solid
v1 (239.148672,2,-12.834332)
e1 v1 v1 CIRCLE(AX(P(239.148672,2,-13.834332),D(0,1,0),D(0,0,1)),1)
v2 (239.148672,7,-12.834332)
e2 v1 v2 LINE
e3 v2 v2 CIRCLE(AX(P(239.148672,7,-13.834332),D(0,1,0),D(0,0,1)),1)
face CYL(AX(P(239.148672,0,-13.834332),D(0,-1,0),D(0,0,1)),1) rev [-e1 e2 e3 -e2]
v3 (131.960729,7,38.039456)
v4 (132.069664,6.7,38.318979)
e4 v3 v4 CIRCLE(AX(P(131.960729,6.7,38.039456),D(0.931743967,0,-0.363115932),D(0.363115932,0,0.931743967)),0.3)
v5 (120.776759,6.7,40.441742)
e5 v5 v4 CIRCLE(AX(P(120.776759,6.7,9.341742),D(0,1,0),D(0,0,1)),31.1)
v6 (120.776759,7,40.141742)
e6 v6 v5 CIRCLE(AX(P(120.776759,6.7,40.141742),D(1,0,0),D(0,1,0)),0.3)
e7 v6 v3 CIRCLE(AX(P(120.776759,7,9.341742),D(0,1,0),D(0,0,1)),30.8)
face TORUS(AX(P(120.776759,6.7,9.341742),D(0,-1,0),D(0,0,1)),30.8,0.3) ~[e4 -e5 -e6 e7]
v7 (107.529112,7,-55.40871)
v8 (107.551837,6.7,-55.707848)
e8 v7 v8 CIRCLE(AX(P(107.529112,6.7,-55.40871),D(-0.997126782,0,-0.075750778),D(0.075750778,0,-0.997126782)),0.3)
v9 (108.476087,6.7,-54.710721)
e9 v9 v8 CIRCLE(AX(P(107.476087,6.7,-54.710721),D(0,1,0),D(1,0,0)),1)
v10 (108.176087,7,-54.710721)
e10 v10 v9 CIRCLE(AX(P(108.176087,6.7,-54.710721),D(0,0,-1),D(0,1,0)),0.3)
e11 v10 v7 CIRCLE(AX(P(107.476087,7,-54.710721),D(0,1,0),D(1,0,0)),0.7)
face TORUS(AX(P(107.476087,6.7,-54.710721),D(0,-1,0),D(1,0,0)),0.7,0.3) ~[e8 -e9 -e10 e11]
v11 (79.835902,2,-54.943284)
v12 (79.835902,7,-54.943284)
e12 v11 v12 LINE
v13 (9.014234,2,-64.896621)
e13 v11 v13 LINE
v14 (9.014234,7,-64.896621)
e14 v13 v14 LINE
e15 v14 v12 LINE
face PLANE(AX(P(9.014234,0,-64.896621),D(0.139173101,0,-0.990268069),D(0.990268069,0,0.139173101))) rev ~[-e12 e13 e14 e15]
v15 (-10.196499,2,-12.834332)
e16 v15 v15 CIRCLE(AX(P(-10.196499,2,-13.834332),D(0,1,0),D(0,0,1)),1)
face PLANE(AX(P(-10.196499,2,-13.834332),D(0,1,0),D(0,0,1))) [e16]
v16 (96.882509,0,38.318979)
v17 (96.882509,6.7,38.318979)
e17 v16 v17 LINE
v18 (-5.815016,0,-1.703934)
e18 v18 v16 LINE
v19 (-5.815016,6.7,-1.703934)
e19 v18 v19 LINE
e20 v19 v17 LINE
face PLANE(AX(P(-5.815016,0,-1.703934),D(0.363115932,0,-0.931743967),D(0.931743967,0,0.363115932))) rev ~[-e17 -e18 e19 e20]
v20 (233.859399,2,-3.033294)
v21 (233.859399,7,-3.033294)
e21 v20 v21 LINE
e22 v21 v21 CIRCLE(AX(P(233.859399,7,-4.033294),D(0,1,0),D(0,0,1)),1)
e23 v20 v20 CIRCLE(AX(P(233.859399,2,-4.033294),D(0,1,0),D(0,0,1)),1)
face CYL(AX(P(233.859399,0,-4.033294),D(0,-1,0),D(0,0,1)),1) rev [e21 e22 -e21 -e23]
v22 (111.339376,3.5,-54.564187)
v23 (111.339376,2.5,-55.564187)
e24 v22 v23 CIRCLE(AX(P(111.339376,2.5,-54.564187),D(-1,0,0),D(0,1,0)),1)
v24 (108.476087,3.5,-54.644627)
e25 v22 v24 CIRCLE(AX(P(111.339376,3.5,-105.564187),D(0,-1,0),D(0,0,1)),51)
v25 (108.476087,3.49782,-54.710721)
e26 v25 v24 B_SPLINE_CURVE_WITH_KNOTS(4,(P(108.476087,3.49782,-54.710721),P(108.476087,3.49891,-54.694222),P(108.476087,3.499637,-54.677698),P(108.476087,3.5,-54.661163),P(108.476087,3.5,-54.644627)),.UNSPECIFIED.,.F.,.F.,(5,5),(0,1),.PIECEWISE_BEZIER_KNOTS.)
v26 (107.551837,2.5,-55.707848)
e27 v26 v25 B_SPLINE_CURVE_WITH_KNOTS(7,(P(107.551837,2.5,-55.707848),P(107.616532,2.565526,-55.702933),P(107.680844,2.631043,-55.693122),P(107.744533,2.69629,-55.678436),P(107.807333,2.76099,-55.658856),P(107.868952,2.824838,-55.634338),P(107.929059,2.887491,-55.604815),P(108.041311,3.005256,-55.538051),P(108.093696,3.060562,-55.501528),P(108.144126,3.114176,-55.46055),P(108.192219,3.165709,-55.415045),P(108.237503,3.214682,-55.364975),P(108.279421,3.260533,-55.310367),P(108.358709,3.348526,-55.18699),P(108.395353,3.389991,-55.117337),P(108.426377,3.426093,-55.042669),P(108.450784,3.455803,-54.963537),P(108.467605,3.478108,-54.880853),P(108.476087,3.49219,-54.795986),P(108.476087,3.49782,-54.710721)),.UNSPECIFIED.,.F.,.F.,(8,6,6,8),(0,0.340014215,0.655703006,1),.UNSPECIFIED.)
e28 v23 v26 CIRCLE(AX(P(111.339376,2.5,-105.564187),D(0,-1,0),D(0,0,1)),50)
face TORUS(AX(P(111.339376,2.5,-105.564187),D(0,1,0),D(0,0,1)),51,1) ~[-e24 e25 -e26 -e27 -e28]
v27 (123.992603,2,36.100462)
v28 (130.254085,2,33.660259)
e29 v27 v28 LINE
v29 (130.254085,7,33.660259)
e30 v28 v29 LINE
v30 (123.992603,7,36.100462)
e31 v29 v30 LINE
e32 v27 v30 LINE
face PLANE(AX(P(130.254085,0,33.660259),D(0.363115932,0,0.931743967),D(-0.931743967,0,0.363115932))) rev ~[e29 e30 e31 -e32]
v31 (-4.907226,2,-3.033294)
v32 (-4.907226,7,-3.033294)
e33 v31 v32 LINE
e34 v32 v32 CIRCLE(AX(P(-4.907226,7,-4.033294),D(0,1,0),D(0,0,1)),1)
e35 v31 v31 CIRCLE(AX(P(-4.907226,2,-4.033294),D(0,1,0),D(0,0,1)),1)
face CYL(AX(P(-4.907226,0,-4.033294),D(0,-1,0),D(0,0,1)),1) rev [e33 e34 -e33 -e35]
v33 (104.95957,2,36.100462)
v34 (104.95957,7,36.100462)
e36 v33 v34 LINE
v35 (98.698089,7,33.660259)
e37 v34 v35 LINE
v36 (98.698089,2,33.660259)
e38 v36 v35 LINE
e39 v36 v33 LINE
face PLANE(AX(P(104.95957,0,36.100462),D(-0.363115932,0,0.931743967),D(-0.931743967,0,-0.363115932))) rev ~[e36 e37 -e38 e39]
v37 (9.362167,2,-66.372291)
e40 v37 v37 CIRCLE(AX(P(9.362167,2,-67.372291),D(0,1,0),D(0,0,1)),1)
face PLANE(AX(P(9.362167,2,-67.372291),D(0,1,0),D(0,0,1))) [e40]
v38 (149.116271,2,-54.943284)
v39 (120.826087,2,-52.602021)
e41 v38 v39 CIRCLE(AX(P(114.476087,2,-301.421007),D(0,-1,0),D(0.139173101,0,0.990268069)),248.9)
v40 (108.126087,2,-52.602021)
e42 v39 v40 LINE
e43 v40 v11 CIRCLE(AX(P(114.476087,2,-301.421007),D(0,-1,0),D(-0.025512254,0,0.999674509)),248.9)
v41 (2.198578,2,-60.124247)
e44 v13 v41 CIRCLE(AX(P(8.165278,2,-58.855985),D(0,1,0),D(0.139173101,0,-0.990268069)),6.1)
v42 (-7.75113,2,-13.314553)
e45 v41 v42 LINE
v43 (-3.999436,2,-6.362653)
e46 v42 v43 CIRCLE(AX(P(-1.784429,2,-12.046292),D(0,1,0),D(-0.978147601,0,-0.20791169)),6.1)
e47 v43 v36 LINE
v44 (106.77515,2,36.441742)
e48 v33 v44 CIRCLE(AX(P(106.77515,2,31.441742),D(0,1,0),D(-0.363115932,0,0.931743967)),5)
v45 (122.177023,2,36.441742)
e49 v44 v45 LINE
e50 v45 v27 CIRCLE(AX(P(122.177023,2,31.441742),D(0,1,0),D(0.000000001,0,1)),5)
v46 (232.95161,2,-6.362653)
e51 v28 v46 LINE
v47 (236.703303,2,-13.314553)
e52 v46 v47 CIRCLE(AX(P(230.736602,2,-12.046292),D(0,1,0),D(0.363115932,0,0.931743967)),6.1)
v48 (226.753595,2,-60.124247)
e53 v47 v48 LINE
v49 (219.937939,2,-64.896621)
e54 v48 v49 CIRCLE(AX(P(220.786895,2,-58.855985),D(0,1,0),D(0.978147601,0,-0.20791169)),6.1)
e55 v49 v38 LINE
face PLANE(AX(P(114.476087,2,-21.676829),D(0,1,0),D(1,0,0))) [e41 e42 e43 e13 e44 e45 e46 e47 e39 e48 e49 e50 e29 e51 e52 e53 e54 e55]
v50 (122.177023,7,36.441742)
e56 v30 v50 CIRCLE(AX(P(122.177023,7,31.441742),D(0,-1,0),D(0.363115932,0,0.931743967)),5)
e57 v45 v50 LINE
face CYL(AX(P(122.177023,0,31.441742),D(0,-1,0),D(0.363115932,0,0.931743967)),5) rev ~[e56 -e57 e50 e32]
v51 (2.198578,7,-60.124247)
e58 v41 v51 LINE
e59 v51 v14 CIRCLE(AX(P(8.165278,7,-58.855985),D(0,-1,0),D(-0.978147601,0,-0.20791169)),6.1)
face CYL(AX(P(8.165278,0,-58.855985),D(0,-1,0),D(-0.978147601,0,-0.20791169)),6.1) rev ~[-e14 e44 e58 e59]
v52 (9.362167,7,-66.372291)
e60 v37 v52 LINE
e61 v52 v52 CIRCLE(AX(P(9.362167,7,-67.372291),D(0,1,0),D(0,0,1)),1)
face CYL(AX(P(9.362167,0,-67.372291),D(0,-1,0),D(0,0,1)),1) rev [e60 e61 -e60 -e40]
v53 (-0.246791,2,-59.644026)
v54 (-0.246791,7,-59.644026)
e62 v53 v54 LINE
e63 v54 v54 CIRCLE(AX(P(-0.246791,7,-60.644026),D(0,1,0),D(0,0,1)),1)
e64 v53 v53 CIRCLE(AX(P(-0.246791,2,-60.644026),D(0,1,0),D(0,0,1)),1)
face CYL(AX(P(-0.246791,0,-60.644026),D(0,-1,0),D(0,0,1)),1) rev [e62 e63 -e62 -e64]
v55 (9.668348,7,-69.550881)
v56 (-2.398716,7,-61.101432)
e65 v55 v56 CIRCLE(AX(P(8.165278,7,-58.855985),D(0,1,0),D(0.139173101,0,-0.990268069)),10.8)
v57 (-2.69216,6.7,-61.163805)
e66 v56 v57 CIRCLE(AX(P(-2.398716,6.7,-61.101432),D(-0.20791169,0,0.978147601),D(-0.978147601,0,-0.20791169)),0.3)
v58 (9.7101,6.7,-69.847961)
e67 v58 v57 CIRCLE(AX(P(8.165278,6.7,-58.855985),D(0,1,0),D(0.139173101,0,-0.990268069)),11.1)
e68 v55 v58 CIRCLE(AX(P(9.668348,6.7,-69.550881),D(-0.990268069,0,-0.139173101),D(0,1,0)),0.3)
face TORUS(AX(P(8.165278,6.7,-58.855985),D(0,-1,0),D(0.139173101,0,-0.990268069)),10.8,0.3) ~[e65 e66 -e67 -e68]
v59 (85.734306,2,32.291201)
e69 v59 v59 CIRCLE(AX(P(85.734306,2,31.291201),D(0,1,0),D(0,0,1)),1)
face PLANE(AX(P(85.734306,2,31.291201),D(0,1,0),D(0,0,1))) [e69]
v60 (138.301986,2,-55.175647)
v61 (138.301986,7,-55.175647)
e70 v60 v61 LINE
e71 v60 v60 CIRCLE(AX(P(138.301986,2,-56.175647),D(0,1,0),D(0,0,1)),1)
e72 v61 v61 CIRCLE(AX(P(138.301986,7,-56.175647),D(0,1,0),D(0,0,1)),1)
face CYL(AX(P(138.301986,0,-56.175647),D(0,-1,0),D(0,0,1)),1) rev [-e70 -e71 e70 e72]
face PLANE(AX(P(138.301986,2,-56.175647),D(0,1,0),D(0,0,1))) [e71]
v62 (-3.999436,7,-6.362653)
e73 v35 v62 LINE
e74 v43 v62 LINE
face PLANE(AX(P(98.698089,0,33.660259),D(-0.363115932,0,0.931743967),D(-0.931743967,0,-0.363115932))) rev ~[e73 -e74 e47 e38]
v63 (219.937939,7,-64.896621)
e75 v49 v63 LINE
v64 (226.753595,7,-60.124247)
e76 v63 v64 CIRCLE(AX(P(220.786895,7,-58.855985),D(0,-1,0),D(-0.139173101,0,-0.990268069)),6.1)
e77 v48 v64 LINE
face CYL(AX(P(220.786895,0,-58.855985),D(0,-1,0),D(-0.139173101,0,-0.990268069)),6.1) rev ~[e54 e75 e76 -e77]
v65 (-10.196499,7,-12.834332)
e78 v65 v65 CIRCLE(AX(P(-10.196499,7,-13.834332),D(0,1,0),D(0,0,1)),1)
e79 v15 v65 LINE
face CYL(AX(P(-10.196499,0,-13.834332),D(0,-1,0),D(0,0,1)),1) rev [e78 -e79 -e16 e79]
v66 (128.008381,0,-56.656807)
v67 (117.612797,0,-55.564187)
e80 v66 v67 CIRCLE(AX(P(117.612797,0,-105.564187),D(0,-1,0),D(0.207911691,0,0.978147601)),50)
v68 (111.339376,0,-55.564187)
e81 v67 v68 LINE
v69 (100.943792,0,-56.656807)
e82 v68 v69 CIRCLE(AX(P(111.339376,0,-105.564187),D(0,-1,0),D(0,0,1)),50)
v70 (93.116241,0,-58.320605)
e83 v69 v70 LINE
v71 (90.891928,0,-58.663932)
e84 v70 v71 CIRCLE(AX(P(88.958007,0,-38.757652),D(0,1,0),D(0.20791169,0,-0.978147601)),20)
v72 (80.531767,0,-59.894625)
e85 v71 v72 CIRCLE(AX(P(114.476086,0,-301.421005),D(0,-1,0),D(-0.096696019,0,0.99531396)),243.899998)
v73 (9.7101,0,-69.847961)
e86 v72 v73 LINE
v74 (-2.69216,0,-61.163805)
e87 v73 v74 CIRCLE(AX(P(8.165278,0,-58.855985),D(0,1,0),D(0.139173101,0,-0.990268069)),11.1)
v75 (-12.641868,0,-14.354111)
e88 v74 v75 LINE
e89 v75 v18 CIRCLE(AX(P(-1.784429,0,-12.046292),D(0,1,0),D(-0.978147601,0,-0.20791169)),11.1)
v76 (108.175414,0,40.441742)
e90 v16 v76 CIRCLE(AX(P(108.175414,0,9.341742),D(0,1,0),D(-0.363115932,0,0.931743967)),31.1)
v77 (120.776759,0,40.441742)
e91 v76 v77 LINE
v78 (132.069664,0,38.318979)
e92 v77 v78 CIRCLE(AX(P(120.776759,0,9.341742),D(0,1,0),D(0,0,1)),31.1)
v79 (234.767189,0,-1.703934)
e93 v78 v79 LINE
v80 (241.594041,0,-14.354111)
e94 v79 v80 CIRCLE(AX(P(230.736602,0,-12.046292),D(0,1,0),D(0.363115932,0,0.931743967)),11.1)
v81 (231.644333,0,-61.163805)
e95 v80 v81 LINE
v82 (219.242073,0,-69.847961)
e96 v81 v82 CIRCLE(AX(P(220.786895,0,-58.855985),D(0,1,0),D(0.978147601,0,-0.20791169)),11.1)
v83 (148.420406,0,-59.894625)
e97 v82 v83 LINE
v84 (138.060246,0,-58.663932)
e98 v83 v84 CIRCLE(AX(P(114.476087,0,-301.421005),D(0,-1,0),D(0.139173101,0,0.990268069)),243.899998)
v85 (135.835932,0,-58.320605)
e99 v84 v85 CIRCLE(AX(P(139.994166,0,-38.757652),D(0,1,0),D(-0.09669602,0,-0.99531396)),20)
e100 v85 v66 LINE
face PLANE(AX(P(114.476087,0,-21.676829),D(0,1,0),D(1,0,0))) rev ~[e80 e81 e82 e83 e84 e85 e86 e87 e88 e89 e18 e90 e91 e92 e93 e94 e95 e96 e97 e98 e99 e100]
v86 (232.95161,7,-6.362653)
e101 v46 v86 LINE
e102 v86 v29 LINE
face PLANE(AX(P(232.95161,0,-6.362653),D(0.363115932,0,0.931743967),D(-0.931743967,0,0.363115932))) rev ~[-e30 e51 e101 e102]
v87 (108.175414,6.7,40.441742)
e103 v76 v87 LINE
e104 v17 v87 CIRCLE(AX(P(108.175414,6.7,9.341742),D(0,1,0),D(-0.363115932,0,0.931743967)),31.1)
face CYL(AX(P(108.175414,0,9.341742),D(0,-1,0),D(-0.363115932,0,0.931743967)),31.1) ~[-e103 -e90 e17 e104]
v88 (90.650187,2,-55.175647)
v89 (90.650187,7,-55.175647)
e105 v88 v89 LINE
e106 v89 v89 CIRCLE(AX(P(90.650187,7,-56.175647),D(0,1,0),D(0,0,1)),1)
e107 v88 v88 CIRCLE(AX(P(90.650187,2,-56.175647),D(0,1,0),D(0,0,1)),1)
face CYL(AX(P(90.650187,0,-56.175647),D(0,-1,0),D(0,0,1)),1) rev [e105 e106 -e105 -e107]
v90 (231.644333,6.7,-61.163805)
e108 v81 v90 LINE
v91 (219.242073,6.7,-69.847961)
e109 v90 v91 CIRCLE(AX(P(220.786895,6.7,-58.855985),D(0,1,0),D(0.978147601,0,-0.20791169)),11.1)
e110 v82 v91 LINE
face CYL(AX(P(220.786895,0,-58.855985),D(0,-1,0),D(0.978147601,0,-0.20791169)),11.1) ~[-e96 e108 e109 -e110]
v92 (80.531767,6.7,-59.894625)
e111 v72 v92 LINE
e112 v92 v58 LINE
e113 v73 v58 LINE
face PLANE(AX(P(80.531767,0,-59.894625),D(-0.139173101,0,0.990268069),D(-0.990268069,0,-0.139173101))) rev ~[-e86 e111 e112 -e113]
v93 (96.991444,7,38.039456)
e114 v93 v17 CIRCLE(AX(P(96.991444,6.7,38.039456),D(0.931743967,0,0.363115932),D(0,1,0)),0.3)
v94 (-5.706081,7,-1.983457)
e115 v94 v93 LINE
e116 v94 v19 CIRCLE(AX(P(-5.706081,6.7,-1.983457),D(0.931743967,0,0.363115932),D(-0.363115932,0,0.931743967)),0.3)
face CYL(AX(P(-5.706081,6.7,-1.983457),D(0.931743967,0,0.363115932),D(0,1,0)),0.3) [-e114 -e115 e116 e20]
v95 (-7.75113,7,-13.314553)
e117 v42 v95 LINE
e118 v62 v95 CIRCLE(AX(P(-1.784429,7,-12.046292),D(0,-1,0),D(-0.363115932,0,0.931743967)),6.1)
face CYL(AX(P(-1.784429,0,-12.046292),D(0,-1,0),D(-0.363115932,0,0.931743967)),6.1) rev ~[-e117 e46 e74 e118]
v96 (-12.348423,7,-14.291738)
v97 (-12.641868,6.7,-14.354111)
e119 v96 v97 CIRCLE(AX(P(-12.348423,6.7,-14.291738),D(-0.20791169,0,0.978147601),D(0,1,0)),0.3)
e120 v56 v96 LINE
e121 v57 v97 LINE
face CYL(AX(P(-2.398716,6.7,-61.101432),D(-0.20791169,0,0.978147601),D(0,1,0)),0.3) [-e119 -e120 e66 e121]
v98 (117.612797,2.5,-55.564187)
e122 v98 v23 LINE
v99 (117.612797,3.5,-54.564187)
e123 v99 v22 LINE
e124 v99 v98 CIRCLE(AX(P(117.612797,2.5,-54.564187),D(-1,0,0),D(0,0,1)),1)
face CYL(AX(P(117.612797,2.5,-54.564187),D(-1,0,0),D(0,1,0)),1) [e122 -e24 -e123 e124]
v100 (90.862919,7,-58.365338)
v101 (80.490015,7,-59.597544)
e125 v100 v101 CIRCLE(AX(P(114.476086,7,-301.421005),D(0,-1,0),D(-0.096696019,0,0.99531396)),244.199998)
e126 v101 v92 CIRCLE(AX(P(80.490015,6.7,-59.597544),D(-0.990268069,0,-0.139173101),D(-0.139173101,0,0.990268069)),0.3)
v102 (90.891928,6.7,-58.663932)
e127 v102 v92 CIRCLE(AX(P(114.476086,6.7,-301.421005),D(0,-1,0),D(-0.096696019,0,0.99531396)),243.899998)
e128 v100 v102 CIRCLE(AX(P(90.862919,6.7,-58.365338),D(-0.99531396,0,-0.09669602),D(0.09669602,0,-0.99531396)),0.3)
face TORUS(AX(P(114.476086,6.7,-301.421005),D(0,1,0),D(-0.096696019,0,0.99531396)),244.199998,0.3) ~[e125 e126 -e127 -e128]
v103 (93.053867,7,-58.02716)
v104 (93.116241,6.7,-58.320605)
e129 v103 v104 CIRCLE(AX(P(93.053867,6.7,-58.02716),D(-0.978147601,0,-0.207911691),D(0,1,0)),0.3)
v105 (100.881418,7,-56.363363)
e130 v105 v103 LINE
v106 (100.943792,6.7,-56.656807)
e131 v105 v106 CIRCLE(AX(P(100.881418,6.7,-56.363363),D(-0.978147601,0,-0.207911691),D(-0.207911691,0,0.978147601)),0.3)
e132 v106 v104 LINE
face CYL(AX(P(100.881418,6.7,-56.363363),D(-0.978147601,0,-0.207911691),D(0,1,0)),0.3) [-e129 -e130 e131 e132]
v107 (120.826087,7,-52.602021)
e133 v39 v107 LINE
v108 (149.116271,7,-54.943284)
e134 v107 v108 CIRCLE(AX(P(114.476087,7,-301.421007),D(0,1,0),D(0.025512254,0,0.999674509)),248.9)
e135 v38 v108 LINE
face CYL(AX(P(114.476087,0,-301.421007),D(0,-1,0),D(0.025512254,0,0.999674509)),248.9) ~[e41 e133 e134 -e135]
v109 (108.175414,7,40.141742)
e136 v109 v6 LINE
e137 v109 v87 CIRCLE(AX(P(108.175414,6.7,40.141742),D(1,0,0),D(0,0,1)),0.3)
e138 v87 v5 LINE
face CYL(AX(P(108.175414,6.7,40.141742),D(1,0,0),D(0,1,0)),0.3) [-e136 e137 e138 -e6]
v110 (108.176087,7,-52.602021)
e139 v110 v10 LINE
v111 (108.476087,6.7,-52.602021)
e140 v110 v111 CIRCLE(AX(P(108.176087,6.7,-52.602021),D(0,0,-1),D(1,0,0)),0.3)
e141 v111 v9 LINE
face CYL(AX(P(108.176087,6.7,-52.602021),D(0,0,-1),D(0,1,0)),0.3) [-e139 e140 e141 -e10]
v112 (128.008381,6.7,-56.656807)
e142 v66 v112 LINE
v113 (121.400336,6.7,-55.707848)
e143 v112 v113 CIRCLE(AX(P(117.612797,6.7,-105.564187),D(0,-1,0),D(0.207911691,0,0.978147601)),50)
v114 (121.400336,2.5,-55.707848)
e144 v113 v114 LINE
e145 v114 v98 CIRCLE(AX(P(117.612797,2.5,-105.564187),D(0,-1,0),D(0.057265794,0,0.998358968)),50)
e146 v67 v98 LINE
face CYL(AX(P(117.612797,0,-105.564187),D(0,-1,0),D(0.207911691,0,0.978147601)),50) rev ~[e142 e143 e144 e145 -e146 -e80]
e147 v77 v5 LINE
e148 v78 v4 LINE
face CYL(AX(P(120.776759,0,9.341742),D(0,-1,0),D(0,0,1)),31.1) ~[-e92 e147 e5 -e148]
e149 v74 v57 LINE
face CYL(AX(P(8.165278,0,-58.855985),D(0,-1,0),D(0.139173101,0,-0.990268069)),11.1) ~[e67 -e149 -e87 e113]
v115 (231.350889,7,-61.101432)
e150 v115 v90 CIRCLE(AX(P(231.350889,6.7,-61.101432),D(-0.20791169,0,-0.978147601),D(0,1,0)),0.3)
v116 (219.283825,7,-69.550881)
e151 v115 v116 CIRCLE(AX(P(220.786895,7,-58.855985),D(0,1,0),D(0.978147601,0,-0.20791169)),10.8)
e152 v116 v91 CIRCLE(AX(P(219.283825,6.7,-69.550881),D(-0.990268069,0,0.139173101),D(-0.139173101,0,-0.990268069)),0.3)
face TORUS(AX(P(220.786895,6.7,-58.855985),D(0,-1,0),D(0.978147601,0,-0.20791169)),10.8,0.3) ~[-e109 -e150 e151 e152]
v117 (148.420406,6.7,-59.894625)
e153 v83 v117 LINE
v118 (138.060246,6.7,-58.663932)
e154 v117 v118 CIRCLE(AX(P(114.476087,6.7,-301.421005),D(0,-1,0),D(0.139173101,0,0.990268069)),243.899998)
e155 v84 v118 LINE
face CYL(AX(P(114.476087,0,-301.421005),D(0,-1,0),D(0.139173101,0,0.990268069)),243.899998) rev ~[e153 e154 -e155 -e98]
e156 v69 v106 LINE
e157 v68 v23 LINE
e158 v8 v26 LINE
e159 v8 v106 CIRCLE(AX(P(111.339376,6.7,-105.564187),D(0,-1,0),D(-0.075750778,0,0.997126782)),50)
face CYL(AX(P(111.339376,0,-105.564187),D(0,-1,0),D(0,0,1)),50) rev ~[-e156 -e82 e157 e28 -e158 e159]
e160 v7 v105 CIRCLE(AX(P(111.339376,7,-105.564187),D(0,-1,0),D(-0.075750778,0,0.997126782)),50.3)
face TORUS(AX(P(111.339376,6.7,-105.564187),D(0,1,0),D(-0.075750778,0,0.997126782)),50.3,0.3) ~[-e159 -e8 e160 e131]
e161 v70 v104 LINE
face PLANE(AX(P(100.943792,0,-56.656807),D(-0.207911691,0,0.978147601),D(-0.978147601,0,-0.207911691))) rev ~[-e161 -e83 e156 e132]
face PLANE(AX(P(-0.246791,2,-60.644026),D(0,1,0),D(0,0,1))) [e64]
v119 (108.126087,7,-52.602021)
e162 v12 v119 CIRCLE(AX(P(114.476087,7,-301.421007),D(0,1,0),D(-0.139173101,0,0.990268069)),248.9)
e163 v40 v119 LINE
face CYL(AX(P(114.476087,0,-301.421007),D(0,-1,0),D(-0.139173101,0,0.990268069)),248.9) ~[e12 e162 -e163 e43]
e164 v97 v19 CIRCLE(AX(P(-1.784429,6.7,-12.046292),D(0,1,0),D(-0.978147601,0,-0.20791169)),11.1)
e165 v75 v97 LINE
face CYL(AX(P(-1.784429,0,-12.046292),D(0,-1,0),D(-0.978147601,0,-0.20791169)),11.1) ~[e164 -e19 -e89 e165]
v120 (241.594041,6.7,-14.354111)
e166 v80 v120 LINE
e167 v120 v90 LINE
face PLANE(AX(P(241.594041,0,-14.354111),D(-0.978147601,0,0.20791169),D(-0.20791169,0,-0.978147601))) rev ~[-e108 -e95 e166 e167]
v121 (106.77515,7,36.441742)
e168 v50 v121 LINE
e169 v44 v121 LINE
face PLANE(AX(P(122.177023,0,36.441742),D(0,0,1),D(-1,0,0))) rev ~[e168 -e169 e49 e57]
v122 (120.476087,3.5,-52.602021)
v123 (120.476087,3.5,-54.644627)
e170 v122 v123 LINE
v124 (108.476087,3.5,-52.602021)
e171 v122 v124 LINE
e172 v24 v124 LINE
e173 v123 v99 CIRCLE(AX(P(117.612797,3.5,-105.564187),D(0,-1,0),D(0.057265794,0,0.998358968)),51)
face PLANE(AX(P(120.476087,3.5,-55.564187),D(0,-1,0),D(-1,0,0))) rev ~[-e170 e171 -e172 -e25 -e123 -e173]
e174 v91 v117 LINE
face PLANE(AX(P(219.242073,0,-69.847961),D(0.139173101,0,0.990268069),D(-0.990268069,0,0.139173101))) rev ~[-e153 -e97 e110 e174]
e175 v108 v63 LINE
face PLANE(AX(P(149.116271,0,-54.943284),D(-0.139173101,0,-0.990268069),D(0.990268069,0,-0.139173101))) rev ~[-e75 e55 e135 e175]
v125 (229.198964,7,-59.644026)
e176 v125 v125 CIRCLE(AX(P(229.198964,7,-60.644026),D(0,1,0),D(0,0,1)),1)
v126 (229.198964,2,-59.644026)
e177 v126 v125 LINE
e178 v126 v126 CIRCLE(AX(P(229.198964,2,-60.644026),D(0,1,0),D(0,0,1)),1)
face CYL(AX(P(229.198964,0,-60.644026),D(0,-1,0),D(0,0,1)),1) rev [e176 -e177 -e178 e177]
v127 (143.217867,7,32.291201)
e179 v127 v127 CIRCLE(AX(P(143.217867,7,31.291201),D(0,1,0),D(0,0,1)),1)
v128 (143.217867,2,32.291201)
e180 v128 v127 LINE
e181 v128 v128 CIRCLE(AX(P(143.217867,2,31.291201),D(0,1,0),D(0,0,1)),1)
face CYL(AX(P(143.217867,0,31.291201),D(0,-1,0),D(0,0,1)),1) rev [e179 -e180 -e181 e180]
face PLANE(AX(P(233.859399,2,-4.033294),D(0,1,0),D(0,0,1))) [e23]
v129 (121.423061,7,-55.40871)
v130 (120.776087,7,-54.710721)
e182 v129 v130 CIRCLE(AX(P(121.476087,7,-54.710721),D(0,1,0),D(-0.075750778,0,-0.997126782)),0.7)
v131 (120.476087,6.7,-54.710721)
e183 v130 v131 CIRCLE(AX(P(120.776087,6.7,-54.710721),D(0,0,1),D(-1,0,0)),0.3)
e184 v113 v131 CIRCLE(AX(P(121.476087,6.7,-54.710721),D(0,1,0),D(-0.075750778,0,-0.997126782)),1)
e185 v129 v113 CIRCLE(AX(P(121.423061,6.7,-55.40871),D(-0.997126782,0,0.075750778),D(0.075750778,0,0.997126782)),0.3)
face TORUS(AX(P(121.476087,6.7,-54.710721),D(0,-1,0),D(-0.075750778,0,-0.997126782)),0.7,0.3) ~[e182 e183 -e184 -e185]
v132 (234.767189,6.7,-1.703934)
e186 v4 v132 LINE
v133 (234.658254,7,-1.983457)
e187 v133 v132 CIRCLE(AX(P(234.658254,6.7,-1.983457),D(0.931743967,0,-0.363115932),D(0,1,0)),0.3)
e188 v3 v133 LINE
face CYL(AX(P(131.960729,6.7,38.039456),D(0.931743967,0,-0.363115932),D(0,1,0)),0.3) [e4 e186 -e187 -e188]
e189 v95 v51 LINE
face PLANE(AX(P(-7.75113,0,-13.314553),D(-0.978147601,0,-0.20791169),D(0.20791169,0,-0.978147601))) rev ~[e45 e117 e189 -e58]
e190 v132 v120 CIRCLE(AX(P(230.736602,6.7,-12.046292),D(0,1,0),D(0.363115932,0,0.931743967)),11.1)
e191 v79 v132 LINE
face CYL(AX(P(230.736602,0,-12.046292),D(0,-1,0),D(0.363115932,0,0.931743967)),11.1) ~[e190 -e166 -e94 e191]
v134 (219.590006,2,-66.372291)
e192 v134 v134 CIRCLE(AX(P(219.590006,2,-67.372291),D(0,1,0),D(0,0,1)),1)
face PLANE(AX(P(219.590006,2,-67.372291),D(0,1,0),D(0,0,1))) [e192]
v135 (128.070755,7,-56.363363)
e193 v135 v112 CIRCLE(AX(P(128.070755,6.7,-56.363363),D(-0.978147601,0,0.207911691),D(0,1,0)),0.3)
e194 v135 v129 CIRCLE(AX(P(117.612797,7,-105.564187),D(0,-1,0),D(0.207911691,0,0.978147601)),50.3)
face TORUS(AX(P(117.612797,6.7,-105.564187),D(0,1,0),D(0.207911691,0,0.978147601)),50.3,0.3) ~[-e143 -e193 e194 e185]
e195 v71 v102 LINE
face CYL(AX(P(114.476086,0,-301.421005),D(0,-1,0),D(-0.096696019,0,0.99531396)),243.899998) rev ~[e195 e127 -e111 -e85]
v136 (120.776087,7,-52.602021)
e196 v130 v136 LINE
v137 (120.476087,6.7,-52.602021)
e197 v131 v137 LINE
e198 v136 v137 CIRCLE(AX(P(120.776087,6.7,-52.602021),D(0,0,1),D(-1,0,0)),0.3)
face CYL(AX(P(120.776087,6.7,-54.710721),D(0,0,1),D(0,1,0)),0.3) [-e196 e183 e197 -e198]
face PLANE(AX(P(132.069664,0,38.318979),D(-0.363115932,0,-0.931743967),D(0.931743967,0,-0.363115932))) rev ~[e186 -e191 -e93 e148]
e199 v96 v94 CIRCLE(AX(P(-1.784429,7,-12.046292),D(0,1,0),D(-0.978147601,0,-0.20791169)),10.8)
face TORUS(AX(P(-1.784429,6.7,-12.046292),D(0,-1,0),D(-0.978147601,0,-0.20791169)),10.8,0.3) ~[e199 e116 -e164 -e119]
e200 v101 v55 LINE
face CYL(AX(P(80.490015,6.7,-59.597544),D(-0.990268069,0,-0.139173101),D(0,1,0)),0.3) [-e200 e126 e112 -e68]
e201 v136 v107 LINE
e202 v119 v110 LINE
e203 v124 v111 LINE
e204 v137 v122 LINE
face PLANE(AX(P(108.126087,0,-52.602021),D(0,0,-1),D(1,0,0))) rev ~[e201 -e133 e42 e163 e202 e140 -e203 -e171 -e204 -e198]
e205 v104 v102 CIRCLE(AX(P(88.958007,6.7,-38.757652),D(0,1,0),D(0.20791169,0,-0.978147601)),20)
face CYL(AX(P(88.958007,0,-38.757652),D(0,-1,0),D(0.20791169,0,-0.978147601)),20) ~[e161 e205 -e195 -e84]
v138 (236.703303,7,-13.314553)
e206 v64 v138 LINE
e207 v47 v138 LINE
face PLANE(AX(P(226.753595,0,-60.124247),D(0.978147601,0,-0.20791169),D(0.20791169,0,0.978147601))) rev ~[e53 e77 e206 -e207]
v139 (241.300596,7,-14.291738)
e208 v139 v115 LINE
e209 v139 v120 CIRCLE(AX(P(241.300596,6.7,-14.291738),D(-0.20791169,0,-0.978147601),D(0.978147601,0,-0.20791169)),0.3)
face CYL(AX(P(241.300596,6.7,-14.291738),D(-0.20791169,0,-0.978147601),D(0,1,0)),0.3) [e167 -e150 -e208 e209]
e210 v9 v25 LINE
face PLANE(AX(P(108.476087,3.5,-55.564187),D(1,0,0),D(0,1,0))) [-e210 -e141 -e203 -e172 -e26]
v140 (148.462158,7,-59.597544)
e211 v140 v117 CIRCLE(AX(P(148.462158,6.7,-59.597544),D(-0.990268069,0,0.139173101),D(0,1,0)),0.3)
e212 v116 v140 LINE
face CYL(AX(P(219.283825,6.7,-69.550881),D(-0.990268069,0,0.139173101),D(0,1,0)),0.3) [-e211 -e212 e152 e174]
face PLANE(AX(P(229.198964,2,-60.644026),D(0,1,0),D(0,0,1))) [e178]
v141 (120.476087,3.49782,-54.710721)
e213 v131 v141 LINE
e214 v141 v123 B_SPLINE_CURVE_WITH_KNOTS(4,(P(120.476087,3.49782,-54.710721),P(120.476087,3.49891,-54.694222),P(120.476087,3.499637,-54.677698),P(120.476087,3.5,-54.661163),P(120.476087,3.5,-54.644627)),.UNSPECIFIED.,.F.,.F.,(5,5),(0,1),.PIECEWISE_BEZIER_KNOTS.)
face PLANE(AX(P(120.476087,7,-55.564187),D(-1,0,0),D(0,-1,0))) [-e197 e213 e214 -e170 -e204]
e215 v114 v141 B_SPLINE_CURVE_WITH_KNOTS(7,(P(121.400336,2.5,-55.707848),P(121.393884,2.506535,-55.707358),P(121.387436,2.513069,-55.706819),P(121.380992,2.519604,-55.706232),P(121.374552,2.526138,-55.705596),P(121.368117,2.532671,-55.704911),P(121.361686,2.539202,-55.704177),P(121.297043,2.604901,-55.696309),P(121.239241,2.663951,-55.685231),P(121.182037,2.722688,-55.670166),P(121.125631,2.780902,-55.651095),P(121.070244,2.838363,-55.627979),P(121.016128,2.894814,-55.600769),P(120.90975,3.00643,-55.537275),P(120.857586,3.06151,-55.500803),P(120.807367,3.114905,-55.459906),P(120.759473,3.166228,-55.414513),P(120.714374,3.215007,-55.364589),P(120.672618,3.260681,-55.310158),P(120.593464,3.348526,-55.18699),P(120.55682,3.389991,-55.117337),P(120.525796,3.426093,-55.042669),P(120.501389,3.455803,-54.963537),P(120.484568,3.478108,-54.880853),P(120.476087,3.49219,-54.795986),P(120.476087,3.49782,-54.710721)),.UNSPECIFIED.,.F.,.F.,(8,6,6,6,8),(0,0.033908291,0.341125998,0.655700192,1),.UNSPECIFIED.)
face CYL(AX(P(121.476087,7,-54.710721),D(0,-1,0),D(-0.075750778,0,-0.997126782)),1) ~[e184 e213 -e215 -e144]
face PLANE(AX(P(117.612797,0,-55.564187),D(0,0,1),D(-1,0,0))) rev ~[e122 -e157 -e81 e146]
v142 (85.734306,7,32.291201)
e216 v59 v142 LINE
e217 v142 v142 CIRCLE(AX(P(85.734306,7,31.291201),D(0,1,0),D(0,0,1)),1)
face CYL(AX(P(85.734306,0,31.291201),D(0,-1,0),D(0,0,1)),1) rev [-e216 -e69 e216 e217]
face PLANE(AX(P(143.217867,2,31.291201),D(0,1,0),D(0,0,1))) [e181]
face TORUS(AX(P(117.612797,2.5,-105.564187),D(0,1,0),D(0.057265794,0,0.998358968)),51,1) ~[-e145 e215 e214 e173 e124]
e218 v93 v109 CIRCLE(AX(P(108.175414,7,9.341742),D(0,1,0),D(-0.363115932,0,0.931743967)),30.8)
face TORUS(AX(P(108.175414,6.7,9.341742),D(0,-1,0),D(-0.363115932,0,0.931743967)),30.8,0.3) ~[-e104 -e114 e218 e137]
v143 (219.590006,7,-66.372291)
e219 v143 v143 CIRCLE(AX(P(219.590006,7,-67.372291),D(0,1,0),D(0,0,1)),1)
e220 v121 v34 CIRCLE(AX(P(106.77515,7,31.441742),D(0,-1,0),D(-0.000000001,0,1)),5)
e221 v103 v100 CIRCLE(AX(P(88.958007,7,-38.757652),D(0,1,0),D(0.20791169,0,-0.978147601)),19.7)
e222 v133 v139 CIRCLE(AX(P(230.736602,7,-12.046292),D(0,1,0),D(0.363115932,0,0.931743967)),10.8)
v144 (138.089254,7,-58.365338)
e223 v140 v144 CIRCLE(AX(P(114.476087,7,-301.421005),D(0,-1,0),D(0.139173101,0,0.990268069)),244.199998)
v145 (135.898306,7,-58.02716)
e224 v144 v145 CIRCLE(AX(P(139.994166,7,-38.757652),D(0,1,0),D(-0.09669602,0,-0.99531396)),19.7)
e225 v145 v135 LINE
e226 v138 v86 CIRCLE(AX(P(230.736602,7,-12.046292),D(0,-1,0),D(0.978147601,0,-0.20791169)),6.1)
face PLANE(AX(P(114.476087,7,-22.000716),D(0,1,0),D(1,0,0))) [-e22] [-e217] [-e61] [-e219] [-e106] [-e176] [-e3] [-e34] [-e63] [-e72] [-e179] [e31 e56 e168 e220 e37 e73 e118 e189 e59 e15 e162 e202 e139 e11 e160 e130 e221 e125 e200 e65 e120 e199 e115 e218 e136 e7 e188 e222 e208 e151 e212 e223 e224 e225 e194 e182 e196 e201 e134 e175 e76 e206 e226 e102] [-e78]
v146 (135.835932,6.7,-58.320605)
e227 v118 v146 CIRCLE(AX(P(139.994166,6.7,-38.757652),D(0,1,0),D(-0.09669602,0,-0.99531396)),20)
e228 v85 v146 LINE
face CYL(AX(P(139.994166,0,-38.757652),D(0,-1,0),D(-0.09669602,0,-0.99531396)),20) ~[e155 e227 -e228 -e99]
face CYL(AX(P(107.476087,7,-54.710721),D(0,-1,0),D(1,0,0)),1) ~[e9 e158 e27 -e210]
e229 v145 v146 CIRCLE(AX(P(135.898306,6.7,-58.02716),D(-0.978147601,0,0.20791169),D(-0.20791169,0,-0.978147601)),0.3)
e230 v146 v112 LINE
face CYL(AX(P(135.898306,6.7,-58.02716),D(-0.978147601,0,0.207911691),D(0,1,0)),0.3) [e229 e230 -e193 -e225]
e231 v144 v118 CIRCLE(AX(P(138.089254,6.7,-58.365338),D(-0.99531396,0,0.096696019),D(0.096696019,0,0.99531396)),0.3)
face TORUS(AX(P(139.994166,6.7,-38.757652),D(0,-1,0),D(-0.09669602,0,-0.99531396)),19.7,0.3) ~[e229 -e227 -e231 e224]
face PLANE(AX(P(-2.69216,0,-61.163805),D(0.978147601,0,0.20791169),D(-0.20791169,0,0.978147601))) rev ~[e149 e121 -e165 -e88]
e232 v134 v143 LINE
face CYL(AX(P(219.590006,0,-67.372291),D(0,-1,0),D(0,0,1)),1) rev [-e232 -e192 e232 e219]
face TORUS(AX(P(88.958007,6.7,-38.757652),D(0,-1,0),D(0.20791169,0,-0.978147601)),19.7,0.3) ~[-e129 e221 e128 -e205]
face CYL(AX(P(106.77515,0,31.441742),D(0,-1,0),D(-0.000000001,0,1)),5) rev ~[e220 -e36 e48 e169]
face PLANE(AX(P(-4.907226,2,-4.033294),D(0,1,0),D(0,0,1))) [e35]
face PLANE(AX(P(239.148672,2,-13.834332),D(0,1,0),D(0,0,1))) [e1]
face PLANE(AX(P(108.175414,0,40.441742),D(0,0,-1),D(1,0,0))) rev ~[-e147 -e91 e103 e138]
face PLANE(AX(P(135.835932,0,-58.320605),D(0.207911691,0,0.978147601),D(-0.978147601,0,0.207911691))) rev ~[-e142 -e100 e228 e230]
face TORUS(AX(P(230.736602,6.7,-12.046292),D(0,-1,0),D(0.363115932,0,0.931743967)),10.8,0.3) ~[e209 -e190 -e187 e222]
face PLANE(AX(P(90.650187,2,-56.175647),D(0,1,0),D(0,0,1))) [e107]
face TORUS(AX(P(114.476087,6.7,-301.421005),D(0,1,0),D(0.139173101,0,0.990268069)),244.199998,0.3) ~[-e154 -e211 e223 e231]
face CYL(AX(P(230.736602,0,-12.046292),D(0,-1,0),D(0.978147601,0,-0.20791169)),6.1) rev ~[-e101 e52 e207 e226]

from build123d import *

# Parameters (mm, degrees)
SKETCH1_R           = 1
BOSS_EXTRUDE1_DEPTH = 7
SKETCH1_3_R         = 1
BOSS_EXTRUDE2_DEPTH = 2
CUT_EXTRUDE1_DEPTH  = 9
CUT_EXTRUDE2_DEPTH  = 9
FILLET1_R           = 1
FILLET2_R           = 0.3


with BuildPart() as part:
    # Sketch1 → Boss-Extrude1 (new body)
    with BuildSketch(Plane(origin=(0, 0, 0), x_dir=(1, 0, 0), z_dir=(0, 1, 0))):
        with BuildLine():
            Line((117.612796898, 55.564187288), (111.339376302, 55.564187288))
            ThreePointArc((111.339376302, 55.564187288), (106.112953139, 55.838092519), (100.943791761, 56.656807251))
            Line((100.943791761, 56.656807251), (93.116240963, 58.320604535))
            ThreePointArc((93.116240963, 58.320604535), (92.008917517, 58.523581436), (90.891927529, 58.66393173))
            ThreePointArc((90.891927529, 58.66393173), (85.705266175, 59.223876454), (80.531767276, 59.894624719))
            Line((80.531767276, 59.894624719), (9.710099744, 69.847960989))
            ThreePointArc((9.710099744, 69.847960989), (1.798579876, 67.948573115), (-2.692160046, 61.163805184))
            Line((-2.692160046, 61.163805184), (-12.641867563, 14.354111424))
            ThreePointArc((-12.641867563, 14.354111424), (-11.552749071, 6.774676472), (-5.81501604, 1.703933634))
            Line((-5.81501604, 1.703933634), (96.882509001, -38.318979169))
            ThreePointArc((96.882509001, -38.318979169), (102.430072126, -39.906444336), (108.175414493, -40.4417418))
            Line((108.175414493, -40.4417418), (114.4760866, -40.4417418))
            Line((114.4760866, -40.4417418), (120.776758707, -40.4417418))
            ThreePointArc((120.776758707, -40.4417418), (126.522101074, -39.906444336), (132.069664199, -38.318979169))
            Line((132.069664199, -38.318979169), (234.76718924, 1.703933634))
            ThreePointArc((234.76718924, 1.703933634), (240.504922271, 6.774676472), (241.594040763, 14.354111424))
            Line((241.594040763, 14.354111424), (231.644333246, 61.163805184))
            ThreePointArc((231.644333246, 61.163805184), (227.153593324, 67.948573115), (219.242073456, 69.847960989))
            Line((219.242073456, 69.847960989), (148.420405924, 59.894624719))
            ThreePointArc((148.420405924, 59.894624719), (143.246907025, 59.223876454), (138.060245671, 58.66393173))
            ThreePointArc((138.060245671, 58.66393173), (136.943255683, 58.523581436), (135.835932237, 58.320604535))
            Line((135.835932237, 58.320604535), (128.008381439, 56.656807251))
            ThreePointArc((128.008381439, 56.656807251), (122.839220061, 55.838092519), (117.612796898, 55.564187288))
        make_face()
        with Locations((85.734306388, -31.29120092)):
            Circle(SKETCH1_R, mode=Mode.SUBTRACT)
        with Locations((-4.907226209, 4.033293551)):
            Circle(SKETCH1_R, mode=Mode.SUBTRACT)
        with Locations((-10.19649856, 13.834332199)):
            Circle(SKETCH1_R, mode=Mode.SUBTRACT)
        with BuildLine():
            Line((9.01423424, 64.896620645), (79.835901771, 54.943284375))
            ThreePointArc((79.835901771, 54.943284375), (93.947589546, 53.369014537), (108.1260866, 52.602021276))
            Line((108.1260866, 52.602021276), (120.8260866, 52.602021276))
            ThreePointArc((120.8260866, 52.602021276), (135.004583654, 53.369014537), (149.116271429, 54.943284375))
            Line((149.116271429, 54.943284375), (219.93793896, 64.896620645))
            ThreePointArc((219.93793896, 64.896620645), (224.28571114, 63.852812894), (226.753595242, 60.124246735))
            Line((226.753595242, 60.124246735), (236.703302758, 13.314552975))
            ThreePointArc((236.703302758, 13.314552975), (236.104778182, 9.149277911), (232.951609579, 6.362653468))
            Line((232.951609579, 6.362653468), (130.254084538, -33.660259335))
            Line((130.254084538, -33.660259335), (123.992602822, -36.100461634))
            ThreePointArc((123.992602822, -36.100461634), (123.100711644, -36.355681114), (122.177023161, -36.4417418))
            Line((122.177023161, -36.4417418), (120.9760866, -36.4417418))
            Line((120.9760866, -36.4417418), (119.4760866, -36.4417418))
            Line((119.4760866, -36.4417418), (114.4760866, -36.4417418))
            Line((114.4760866, -36.4417418), (109.4760866, -36.4417418))
            Line((109.4760866, -36.4417418), (107.9760866, -36.4417418))
            Line((107.9760866, -36.4417418), (106.775150039, -36.4417418))
            ThreePointArc((106.775150039, -36.4417418), (105.851461556, -36.355681114), (104.959570378, -36.100461634))
            Line((104.959570378, -36.100461634), (98.698088662, -33.660259335))
            Line((98.698088662, -33.660259335), (-3.999436379, 6.362653468))
            ThreePointArc((-3.999436379, 6.362653468), (-7.152604982, 9.149277911), (-7.751129558, 13.314552975))
            Line((-7.751129558, 13.314552975), (2.198577958, 60.124246735))
            ThreePointArc((2.198577958, 60.124246735), (4.66646206, 63.852812894), (9.01423424, 64.896620645))
        make_face(mode=Mode.SUBTRACT)
        with Locations((143.217866812, -31.29120092)):
            Circle(SKETCH1_R, mode=Mode.SUBTRACT)
        with Locations((233.859399409, 4.033293551)):
            Circle(SKETCH1_R, mode=Mode.SUBTRACT)
        with Locations((239.14867176, 13.834332199)):
            Circle(SKETCH1_R, mode=Mode.SUBTRACT)
        with Locations((-0.246791044, 60.64402596)):
            Circle(SKETCH1_R, mode=Mode.SUBTRACT)
        with Locations((9.362166992, 67.372290817)):
            Circle(SKETCH1_R, mode=Mode.SUBTRACT)
        with Locations((90.650187482, 56.175646828)):
            Circle(SKETCH1_R, mode=Mode.SUBTRACT)
        with Locations((138.301985718, 56.175646828)):
            Circle(SKETCH1_R, mode=Mode.SUBTRACT)
        with Locations((229.198964244, 60.64402596)):
            Circle(SKETCH1_R, mode=Mode.SUBTRACT)
        with Locations((219.590006208, 67.372290817)):
            Circle(SKETCH1_R, mode=Mode.SUBTRACT)
    extrude(amount=BOSS_EXTRUDE1_DEPTH)

    # Sketch1<3> → Boss-Extrude2 (add)
    with BuildSketch(Plane(origin=(0, 0, 0), x_dir=(1, 0, 0), z_dir=(0, 1, 0))):
        with BuildLine():
            ThreePointArc((108.1260866, 52.602021276), (93.947589546, 53.369014537), (79.835901771, 54.943284375))
            Line((79.835901771, 54.943284375), (9.01423424, 64.896620645))
            ThreePointArc((9.01423424, 64.896620645), (4.66646206, 63.852812894), (2.198577958, 60.124246735))
            Line((2.198577958, 60.124246735), (-7.751129558, 13.314552975))
            ThreePointArc((-7.751129558, 13.314552975), (-7.152604982, 9.149277911), (-3.999436379, 6.362653468))
            Line((-3.999436379, 6.362653468), (104.959570378, -36.100461634))
            ThreePointArc((104.959570378, -36.100461634), (105.851461556, -36.355681114), (106.775150039, -36.4417418))
            Line((106.775150039, -36.4417418), (122.177023161, -36.4417418))
            ThreePointArc((122.177023161, -36.4417418), (123.100711644, -36.355681114), (123.992602822, -36.100461634))
            Line((123.992602822, -36.100461634), (232.951609579, 6.362653468))
            ThreePointArc((232.951609579, 6.362653468), (236.104778182, 9.149277911), (236.703302758, 13.314552975))
            Line((236.703302758, 13.314552975), (226.753595242, 60.124246735))
            ThreePointArc((226.753595242, 60.124246735), (224.28571114, 63.852812894), (219.93793896, 64.896620645))
            Line((219.93793896, 64.896620645), (149.116271429, 54.943284375))
            ThreePointArc((149.116271429, 54.943284375), (135.004583654, 53.369014537), (120.8260866, 52.602021276))
            Line((120.8260866, 52.602021276), (108.1260866, 52.602021276))
        make_face()
        with Locations((-10.19649856, 13.834332199)):
            Circle(SKETCH1_3_R)
        with Locations((239.14867176, 13.834332199)):
            Circle(SKETCH1_3_R)
        with Locations((-0.246791044, 60.64402596)):
            Circle(SKETCH1_3_R)
        with Locations((229.198964244, 60.64402596)):
            Circle(SKETCH1_3_R)
        with Locations((143.217866812, -31.29120092)):
            Circle(SKETCH1_3_R)
        with Locations((85.734306388, -31.29120092)):
            Circle(SKETCH1_3_R)
        with Locations((9.362166992, 67.372290817)):
            Circle(SKETCH1_3_R)
        with Locations((90.650187482, 56.175646828)):
            Circle(SKETCH1_3_R)
        with Locations((138.301985718, 56.175646828)):
            Circle(SKETCH1_3_R)
        with Locations((219.590006208, 67.372290817)):
            Circle(SKETCH1_3_R)
        with Locations((-4.907226209, 4.033293551)):
            Circle(SKETCH1_3_R)
        with Locations((233.859399409, 4.033293551)):
            Circle(SKETCH1_3_R)
    extrude(amount=BOSS_EXTRUDE2_DEPTH)

    # Sketch2 → Cut-Extrude1 (cut)
    with BuildSketch(Plane(origin=(0, 0, -55.564187288), x_dir=(-1, 0, 0), z_dir=(0, 0, -1))):
        Polygon((-114.4760866, 7), (-120.4760866, 7), (-120.4760866, 3.5), (-114.4760866, 3.5), (-108.4760866, 3.5), (-108.4760866, 7), align=None)
    extrude(amount=-CUT_EXTRUDE1_DEPTH, mode=Mode.SUBTRACT)

    # Sketch2<2> → Cut-Extrude2 (cut)
    with BuildSketch(Plane(origin=(0, 0, -55.564187288), x_dir=(-1, 0, 0), z_dir=(0, 0, -1))):
        Polygon((-114.4760866, 7), (-120.4760866, 7), (-120.4760866, 3.5), (-114.4760866, 3.5), (-108.4760866, 3.5), (-108.4760866, 7), align=None)
    extrude(amount=CUT_EXTRUDE2_DEPTH, mode=Mode.SUBTRACT)

    # Fillet1
    fillet1_edges = [part.edges().sort_by_distance(p)[0] for p in [
        (109.907143745, 3.5, -55.584704398),
        (114.4760866, 3.5, -55.564187288),
        (108.4760866, 5.25, -55.646238892),
        (119.045029455, 3.5, -55.584704398),
        (120.4760866, 5.25, -55.646238892),
    ]]
    fillet(fillet1_edges, radius=FILLET1_R)

    # Fillet2
    fillet2_edges = [part.edges().sort_by_distance(p)[0] for p in [
        (108.4760866, 7, -53.656371339),
        (120.4760866, 7, -53.656371339),
        (108.209486484, 7, -55.390518879),
        (120.742686716, 7, -55.390518879),
        (104.231959146, 7, -56.071918989),
        (124.720214054, 7, -56.071918989),
        (97.030016362, 7, -57.488705893),
        (131.922156838, 7, -57.488705893),
        (92.008917517, 7, -58.523581436),
        (136.943255683, 7, -58.523581436),
        (85.705266175, 7, -59.223876454),
        (143.246907025, 7, -59.223876454),
        (45.12093351, 7, -64.871292854),
        (183.83123969, 7, -64.871292854),
        (1.798579876, 7, -67.948573115),
        (227.153593324, 7, -67.948573115),
        (-7.667013804, 7, -37.758958304),
        (236.619187004, 7, -37.758958304),
        (-11.552749071, 7, -6.774676472),
        (240.504922271, 7, -6.774676472),
        (45.533746481, 7, 18.307522768),
        (183.418426719, 7, 18.307522768),
        (102.430072126, 7, 39.906444336),
        (126.522101074, 7, 39.906444336),
        (114.4760866, 7, 40.4417418),
    ]]
    fillet(fillet2_edges, radius=FILLET2_R)


solid = part.part
